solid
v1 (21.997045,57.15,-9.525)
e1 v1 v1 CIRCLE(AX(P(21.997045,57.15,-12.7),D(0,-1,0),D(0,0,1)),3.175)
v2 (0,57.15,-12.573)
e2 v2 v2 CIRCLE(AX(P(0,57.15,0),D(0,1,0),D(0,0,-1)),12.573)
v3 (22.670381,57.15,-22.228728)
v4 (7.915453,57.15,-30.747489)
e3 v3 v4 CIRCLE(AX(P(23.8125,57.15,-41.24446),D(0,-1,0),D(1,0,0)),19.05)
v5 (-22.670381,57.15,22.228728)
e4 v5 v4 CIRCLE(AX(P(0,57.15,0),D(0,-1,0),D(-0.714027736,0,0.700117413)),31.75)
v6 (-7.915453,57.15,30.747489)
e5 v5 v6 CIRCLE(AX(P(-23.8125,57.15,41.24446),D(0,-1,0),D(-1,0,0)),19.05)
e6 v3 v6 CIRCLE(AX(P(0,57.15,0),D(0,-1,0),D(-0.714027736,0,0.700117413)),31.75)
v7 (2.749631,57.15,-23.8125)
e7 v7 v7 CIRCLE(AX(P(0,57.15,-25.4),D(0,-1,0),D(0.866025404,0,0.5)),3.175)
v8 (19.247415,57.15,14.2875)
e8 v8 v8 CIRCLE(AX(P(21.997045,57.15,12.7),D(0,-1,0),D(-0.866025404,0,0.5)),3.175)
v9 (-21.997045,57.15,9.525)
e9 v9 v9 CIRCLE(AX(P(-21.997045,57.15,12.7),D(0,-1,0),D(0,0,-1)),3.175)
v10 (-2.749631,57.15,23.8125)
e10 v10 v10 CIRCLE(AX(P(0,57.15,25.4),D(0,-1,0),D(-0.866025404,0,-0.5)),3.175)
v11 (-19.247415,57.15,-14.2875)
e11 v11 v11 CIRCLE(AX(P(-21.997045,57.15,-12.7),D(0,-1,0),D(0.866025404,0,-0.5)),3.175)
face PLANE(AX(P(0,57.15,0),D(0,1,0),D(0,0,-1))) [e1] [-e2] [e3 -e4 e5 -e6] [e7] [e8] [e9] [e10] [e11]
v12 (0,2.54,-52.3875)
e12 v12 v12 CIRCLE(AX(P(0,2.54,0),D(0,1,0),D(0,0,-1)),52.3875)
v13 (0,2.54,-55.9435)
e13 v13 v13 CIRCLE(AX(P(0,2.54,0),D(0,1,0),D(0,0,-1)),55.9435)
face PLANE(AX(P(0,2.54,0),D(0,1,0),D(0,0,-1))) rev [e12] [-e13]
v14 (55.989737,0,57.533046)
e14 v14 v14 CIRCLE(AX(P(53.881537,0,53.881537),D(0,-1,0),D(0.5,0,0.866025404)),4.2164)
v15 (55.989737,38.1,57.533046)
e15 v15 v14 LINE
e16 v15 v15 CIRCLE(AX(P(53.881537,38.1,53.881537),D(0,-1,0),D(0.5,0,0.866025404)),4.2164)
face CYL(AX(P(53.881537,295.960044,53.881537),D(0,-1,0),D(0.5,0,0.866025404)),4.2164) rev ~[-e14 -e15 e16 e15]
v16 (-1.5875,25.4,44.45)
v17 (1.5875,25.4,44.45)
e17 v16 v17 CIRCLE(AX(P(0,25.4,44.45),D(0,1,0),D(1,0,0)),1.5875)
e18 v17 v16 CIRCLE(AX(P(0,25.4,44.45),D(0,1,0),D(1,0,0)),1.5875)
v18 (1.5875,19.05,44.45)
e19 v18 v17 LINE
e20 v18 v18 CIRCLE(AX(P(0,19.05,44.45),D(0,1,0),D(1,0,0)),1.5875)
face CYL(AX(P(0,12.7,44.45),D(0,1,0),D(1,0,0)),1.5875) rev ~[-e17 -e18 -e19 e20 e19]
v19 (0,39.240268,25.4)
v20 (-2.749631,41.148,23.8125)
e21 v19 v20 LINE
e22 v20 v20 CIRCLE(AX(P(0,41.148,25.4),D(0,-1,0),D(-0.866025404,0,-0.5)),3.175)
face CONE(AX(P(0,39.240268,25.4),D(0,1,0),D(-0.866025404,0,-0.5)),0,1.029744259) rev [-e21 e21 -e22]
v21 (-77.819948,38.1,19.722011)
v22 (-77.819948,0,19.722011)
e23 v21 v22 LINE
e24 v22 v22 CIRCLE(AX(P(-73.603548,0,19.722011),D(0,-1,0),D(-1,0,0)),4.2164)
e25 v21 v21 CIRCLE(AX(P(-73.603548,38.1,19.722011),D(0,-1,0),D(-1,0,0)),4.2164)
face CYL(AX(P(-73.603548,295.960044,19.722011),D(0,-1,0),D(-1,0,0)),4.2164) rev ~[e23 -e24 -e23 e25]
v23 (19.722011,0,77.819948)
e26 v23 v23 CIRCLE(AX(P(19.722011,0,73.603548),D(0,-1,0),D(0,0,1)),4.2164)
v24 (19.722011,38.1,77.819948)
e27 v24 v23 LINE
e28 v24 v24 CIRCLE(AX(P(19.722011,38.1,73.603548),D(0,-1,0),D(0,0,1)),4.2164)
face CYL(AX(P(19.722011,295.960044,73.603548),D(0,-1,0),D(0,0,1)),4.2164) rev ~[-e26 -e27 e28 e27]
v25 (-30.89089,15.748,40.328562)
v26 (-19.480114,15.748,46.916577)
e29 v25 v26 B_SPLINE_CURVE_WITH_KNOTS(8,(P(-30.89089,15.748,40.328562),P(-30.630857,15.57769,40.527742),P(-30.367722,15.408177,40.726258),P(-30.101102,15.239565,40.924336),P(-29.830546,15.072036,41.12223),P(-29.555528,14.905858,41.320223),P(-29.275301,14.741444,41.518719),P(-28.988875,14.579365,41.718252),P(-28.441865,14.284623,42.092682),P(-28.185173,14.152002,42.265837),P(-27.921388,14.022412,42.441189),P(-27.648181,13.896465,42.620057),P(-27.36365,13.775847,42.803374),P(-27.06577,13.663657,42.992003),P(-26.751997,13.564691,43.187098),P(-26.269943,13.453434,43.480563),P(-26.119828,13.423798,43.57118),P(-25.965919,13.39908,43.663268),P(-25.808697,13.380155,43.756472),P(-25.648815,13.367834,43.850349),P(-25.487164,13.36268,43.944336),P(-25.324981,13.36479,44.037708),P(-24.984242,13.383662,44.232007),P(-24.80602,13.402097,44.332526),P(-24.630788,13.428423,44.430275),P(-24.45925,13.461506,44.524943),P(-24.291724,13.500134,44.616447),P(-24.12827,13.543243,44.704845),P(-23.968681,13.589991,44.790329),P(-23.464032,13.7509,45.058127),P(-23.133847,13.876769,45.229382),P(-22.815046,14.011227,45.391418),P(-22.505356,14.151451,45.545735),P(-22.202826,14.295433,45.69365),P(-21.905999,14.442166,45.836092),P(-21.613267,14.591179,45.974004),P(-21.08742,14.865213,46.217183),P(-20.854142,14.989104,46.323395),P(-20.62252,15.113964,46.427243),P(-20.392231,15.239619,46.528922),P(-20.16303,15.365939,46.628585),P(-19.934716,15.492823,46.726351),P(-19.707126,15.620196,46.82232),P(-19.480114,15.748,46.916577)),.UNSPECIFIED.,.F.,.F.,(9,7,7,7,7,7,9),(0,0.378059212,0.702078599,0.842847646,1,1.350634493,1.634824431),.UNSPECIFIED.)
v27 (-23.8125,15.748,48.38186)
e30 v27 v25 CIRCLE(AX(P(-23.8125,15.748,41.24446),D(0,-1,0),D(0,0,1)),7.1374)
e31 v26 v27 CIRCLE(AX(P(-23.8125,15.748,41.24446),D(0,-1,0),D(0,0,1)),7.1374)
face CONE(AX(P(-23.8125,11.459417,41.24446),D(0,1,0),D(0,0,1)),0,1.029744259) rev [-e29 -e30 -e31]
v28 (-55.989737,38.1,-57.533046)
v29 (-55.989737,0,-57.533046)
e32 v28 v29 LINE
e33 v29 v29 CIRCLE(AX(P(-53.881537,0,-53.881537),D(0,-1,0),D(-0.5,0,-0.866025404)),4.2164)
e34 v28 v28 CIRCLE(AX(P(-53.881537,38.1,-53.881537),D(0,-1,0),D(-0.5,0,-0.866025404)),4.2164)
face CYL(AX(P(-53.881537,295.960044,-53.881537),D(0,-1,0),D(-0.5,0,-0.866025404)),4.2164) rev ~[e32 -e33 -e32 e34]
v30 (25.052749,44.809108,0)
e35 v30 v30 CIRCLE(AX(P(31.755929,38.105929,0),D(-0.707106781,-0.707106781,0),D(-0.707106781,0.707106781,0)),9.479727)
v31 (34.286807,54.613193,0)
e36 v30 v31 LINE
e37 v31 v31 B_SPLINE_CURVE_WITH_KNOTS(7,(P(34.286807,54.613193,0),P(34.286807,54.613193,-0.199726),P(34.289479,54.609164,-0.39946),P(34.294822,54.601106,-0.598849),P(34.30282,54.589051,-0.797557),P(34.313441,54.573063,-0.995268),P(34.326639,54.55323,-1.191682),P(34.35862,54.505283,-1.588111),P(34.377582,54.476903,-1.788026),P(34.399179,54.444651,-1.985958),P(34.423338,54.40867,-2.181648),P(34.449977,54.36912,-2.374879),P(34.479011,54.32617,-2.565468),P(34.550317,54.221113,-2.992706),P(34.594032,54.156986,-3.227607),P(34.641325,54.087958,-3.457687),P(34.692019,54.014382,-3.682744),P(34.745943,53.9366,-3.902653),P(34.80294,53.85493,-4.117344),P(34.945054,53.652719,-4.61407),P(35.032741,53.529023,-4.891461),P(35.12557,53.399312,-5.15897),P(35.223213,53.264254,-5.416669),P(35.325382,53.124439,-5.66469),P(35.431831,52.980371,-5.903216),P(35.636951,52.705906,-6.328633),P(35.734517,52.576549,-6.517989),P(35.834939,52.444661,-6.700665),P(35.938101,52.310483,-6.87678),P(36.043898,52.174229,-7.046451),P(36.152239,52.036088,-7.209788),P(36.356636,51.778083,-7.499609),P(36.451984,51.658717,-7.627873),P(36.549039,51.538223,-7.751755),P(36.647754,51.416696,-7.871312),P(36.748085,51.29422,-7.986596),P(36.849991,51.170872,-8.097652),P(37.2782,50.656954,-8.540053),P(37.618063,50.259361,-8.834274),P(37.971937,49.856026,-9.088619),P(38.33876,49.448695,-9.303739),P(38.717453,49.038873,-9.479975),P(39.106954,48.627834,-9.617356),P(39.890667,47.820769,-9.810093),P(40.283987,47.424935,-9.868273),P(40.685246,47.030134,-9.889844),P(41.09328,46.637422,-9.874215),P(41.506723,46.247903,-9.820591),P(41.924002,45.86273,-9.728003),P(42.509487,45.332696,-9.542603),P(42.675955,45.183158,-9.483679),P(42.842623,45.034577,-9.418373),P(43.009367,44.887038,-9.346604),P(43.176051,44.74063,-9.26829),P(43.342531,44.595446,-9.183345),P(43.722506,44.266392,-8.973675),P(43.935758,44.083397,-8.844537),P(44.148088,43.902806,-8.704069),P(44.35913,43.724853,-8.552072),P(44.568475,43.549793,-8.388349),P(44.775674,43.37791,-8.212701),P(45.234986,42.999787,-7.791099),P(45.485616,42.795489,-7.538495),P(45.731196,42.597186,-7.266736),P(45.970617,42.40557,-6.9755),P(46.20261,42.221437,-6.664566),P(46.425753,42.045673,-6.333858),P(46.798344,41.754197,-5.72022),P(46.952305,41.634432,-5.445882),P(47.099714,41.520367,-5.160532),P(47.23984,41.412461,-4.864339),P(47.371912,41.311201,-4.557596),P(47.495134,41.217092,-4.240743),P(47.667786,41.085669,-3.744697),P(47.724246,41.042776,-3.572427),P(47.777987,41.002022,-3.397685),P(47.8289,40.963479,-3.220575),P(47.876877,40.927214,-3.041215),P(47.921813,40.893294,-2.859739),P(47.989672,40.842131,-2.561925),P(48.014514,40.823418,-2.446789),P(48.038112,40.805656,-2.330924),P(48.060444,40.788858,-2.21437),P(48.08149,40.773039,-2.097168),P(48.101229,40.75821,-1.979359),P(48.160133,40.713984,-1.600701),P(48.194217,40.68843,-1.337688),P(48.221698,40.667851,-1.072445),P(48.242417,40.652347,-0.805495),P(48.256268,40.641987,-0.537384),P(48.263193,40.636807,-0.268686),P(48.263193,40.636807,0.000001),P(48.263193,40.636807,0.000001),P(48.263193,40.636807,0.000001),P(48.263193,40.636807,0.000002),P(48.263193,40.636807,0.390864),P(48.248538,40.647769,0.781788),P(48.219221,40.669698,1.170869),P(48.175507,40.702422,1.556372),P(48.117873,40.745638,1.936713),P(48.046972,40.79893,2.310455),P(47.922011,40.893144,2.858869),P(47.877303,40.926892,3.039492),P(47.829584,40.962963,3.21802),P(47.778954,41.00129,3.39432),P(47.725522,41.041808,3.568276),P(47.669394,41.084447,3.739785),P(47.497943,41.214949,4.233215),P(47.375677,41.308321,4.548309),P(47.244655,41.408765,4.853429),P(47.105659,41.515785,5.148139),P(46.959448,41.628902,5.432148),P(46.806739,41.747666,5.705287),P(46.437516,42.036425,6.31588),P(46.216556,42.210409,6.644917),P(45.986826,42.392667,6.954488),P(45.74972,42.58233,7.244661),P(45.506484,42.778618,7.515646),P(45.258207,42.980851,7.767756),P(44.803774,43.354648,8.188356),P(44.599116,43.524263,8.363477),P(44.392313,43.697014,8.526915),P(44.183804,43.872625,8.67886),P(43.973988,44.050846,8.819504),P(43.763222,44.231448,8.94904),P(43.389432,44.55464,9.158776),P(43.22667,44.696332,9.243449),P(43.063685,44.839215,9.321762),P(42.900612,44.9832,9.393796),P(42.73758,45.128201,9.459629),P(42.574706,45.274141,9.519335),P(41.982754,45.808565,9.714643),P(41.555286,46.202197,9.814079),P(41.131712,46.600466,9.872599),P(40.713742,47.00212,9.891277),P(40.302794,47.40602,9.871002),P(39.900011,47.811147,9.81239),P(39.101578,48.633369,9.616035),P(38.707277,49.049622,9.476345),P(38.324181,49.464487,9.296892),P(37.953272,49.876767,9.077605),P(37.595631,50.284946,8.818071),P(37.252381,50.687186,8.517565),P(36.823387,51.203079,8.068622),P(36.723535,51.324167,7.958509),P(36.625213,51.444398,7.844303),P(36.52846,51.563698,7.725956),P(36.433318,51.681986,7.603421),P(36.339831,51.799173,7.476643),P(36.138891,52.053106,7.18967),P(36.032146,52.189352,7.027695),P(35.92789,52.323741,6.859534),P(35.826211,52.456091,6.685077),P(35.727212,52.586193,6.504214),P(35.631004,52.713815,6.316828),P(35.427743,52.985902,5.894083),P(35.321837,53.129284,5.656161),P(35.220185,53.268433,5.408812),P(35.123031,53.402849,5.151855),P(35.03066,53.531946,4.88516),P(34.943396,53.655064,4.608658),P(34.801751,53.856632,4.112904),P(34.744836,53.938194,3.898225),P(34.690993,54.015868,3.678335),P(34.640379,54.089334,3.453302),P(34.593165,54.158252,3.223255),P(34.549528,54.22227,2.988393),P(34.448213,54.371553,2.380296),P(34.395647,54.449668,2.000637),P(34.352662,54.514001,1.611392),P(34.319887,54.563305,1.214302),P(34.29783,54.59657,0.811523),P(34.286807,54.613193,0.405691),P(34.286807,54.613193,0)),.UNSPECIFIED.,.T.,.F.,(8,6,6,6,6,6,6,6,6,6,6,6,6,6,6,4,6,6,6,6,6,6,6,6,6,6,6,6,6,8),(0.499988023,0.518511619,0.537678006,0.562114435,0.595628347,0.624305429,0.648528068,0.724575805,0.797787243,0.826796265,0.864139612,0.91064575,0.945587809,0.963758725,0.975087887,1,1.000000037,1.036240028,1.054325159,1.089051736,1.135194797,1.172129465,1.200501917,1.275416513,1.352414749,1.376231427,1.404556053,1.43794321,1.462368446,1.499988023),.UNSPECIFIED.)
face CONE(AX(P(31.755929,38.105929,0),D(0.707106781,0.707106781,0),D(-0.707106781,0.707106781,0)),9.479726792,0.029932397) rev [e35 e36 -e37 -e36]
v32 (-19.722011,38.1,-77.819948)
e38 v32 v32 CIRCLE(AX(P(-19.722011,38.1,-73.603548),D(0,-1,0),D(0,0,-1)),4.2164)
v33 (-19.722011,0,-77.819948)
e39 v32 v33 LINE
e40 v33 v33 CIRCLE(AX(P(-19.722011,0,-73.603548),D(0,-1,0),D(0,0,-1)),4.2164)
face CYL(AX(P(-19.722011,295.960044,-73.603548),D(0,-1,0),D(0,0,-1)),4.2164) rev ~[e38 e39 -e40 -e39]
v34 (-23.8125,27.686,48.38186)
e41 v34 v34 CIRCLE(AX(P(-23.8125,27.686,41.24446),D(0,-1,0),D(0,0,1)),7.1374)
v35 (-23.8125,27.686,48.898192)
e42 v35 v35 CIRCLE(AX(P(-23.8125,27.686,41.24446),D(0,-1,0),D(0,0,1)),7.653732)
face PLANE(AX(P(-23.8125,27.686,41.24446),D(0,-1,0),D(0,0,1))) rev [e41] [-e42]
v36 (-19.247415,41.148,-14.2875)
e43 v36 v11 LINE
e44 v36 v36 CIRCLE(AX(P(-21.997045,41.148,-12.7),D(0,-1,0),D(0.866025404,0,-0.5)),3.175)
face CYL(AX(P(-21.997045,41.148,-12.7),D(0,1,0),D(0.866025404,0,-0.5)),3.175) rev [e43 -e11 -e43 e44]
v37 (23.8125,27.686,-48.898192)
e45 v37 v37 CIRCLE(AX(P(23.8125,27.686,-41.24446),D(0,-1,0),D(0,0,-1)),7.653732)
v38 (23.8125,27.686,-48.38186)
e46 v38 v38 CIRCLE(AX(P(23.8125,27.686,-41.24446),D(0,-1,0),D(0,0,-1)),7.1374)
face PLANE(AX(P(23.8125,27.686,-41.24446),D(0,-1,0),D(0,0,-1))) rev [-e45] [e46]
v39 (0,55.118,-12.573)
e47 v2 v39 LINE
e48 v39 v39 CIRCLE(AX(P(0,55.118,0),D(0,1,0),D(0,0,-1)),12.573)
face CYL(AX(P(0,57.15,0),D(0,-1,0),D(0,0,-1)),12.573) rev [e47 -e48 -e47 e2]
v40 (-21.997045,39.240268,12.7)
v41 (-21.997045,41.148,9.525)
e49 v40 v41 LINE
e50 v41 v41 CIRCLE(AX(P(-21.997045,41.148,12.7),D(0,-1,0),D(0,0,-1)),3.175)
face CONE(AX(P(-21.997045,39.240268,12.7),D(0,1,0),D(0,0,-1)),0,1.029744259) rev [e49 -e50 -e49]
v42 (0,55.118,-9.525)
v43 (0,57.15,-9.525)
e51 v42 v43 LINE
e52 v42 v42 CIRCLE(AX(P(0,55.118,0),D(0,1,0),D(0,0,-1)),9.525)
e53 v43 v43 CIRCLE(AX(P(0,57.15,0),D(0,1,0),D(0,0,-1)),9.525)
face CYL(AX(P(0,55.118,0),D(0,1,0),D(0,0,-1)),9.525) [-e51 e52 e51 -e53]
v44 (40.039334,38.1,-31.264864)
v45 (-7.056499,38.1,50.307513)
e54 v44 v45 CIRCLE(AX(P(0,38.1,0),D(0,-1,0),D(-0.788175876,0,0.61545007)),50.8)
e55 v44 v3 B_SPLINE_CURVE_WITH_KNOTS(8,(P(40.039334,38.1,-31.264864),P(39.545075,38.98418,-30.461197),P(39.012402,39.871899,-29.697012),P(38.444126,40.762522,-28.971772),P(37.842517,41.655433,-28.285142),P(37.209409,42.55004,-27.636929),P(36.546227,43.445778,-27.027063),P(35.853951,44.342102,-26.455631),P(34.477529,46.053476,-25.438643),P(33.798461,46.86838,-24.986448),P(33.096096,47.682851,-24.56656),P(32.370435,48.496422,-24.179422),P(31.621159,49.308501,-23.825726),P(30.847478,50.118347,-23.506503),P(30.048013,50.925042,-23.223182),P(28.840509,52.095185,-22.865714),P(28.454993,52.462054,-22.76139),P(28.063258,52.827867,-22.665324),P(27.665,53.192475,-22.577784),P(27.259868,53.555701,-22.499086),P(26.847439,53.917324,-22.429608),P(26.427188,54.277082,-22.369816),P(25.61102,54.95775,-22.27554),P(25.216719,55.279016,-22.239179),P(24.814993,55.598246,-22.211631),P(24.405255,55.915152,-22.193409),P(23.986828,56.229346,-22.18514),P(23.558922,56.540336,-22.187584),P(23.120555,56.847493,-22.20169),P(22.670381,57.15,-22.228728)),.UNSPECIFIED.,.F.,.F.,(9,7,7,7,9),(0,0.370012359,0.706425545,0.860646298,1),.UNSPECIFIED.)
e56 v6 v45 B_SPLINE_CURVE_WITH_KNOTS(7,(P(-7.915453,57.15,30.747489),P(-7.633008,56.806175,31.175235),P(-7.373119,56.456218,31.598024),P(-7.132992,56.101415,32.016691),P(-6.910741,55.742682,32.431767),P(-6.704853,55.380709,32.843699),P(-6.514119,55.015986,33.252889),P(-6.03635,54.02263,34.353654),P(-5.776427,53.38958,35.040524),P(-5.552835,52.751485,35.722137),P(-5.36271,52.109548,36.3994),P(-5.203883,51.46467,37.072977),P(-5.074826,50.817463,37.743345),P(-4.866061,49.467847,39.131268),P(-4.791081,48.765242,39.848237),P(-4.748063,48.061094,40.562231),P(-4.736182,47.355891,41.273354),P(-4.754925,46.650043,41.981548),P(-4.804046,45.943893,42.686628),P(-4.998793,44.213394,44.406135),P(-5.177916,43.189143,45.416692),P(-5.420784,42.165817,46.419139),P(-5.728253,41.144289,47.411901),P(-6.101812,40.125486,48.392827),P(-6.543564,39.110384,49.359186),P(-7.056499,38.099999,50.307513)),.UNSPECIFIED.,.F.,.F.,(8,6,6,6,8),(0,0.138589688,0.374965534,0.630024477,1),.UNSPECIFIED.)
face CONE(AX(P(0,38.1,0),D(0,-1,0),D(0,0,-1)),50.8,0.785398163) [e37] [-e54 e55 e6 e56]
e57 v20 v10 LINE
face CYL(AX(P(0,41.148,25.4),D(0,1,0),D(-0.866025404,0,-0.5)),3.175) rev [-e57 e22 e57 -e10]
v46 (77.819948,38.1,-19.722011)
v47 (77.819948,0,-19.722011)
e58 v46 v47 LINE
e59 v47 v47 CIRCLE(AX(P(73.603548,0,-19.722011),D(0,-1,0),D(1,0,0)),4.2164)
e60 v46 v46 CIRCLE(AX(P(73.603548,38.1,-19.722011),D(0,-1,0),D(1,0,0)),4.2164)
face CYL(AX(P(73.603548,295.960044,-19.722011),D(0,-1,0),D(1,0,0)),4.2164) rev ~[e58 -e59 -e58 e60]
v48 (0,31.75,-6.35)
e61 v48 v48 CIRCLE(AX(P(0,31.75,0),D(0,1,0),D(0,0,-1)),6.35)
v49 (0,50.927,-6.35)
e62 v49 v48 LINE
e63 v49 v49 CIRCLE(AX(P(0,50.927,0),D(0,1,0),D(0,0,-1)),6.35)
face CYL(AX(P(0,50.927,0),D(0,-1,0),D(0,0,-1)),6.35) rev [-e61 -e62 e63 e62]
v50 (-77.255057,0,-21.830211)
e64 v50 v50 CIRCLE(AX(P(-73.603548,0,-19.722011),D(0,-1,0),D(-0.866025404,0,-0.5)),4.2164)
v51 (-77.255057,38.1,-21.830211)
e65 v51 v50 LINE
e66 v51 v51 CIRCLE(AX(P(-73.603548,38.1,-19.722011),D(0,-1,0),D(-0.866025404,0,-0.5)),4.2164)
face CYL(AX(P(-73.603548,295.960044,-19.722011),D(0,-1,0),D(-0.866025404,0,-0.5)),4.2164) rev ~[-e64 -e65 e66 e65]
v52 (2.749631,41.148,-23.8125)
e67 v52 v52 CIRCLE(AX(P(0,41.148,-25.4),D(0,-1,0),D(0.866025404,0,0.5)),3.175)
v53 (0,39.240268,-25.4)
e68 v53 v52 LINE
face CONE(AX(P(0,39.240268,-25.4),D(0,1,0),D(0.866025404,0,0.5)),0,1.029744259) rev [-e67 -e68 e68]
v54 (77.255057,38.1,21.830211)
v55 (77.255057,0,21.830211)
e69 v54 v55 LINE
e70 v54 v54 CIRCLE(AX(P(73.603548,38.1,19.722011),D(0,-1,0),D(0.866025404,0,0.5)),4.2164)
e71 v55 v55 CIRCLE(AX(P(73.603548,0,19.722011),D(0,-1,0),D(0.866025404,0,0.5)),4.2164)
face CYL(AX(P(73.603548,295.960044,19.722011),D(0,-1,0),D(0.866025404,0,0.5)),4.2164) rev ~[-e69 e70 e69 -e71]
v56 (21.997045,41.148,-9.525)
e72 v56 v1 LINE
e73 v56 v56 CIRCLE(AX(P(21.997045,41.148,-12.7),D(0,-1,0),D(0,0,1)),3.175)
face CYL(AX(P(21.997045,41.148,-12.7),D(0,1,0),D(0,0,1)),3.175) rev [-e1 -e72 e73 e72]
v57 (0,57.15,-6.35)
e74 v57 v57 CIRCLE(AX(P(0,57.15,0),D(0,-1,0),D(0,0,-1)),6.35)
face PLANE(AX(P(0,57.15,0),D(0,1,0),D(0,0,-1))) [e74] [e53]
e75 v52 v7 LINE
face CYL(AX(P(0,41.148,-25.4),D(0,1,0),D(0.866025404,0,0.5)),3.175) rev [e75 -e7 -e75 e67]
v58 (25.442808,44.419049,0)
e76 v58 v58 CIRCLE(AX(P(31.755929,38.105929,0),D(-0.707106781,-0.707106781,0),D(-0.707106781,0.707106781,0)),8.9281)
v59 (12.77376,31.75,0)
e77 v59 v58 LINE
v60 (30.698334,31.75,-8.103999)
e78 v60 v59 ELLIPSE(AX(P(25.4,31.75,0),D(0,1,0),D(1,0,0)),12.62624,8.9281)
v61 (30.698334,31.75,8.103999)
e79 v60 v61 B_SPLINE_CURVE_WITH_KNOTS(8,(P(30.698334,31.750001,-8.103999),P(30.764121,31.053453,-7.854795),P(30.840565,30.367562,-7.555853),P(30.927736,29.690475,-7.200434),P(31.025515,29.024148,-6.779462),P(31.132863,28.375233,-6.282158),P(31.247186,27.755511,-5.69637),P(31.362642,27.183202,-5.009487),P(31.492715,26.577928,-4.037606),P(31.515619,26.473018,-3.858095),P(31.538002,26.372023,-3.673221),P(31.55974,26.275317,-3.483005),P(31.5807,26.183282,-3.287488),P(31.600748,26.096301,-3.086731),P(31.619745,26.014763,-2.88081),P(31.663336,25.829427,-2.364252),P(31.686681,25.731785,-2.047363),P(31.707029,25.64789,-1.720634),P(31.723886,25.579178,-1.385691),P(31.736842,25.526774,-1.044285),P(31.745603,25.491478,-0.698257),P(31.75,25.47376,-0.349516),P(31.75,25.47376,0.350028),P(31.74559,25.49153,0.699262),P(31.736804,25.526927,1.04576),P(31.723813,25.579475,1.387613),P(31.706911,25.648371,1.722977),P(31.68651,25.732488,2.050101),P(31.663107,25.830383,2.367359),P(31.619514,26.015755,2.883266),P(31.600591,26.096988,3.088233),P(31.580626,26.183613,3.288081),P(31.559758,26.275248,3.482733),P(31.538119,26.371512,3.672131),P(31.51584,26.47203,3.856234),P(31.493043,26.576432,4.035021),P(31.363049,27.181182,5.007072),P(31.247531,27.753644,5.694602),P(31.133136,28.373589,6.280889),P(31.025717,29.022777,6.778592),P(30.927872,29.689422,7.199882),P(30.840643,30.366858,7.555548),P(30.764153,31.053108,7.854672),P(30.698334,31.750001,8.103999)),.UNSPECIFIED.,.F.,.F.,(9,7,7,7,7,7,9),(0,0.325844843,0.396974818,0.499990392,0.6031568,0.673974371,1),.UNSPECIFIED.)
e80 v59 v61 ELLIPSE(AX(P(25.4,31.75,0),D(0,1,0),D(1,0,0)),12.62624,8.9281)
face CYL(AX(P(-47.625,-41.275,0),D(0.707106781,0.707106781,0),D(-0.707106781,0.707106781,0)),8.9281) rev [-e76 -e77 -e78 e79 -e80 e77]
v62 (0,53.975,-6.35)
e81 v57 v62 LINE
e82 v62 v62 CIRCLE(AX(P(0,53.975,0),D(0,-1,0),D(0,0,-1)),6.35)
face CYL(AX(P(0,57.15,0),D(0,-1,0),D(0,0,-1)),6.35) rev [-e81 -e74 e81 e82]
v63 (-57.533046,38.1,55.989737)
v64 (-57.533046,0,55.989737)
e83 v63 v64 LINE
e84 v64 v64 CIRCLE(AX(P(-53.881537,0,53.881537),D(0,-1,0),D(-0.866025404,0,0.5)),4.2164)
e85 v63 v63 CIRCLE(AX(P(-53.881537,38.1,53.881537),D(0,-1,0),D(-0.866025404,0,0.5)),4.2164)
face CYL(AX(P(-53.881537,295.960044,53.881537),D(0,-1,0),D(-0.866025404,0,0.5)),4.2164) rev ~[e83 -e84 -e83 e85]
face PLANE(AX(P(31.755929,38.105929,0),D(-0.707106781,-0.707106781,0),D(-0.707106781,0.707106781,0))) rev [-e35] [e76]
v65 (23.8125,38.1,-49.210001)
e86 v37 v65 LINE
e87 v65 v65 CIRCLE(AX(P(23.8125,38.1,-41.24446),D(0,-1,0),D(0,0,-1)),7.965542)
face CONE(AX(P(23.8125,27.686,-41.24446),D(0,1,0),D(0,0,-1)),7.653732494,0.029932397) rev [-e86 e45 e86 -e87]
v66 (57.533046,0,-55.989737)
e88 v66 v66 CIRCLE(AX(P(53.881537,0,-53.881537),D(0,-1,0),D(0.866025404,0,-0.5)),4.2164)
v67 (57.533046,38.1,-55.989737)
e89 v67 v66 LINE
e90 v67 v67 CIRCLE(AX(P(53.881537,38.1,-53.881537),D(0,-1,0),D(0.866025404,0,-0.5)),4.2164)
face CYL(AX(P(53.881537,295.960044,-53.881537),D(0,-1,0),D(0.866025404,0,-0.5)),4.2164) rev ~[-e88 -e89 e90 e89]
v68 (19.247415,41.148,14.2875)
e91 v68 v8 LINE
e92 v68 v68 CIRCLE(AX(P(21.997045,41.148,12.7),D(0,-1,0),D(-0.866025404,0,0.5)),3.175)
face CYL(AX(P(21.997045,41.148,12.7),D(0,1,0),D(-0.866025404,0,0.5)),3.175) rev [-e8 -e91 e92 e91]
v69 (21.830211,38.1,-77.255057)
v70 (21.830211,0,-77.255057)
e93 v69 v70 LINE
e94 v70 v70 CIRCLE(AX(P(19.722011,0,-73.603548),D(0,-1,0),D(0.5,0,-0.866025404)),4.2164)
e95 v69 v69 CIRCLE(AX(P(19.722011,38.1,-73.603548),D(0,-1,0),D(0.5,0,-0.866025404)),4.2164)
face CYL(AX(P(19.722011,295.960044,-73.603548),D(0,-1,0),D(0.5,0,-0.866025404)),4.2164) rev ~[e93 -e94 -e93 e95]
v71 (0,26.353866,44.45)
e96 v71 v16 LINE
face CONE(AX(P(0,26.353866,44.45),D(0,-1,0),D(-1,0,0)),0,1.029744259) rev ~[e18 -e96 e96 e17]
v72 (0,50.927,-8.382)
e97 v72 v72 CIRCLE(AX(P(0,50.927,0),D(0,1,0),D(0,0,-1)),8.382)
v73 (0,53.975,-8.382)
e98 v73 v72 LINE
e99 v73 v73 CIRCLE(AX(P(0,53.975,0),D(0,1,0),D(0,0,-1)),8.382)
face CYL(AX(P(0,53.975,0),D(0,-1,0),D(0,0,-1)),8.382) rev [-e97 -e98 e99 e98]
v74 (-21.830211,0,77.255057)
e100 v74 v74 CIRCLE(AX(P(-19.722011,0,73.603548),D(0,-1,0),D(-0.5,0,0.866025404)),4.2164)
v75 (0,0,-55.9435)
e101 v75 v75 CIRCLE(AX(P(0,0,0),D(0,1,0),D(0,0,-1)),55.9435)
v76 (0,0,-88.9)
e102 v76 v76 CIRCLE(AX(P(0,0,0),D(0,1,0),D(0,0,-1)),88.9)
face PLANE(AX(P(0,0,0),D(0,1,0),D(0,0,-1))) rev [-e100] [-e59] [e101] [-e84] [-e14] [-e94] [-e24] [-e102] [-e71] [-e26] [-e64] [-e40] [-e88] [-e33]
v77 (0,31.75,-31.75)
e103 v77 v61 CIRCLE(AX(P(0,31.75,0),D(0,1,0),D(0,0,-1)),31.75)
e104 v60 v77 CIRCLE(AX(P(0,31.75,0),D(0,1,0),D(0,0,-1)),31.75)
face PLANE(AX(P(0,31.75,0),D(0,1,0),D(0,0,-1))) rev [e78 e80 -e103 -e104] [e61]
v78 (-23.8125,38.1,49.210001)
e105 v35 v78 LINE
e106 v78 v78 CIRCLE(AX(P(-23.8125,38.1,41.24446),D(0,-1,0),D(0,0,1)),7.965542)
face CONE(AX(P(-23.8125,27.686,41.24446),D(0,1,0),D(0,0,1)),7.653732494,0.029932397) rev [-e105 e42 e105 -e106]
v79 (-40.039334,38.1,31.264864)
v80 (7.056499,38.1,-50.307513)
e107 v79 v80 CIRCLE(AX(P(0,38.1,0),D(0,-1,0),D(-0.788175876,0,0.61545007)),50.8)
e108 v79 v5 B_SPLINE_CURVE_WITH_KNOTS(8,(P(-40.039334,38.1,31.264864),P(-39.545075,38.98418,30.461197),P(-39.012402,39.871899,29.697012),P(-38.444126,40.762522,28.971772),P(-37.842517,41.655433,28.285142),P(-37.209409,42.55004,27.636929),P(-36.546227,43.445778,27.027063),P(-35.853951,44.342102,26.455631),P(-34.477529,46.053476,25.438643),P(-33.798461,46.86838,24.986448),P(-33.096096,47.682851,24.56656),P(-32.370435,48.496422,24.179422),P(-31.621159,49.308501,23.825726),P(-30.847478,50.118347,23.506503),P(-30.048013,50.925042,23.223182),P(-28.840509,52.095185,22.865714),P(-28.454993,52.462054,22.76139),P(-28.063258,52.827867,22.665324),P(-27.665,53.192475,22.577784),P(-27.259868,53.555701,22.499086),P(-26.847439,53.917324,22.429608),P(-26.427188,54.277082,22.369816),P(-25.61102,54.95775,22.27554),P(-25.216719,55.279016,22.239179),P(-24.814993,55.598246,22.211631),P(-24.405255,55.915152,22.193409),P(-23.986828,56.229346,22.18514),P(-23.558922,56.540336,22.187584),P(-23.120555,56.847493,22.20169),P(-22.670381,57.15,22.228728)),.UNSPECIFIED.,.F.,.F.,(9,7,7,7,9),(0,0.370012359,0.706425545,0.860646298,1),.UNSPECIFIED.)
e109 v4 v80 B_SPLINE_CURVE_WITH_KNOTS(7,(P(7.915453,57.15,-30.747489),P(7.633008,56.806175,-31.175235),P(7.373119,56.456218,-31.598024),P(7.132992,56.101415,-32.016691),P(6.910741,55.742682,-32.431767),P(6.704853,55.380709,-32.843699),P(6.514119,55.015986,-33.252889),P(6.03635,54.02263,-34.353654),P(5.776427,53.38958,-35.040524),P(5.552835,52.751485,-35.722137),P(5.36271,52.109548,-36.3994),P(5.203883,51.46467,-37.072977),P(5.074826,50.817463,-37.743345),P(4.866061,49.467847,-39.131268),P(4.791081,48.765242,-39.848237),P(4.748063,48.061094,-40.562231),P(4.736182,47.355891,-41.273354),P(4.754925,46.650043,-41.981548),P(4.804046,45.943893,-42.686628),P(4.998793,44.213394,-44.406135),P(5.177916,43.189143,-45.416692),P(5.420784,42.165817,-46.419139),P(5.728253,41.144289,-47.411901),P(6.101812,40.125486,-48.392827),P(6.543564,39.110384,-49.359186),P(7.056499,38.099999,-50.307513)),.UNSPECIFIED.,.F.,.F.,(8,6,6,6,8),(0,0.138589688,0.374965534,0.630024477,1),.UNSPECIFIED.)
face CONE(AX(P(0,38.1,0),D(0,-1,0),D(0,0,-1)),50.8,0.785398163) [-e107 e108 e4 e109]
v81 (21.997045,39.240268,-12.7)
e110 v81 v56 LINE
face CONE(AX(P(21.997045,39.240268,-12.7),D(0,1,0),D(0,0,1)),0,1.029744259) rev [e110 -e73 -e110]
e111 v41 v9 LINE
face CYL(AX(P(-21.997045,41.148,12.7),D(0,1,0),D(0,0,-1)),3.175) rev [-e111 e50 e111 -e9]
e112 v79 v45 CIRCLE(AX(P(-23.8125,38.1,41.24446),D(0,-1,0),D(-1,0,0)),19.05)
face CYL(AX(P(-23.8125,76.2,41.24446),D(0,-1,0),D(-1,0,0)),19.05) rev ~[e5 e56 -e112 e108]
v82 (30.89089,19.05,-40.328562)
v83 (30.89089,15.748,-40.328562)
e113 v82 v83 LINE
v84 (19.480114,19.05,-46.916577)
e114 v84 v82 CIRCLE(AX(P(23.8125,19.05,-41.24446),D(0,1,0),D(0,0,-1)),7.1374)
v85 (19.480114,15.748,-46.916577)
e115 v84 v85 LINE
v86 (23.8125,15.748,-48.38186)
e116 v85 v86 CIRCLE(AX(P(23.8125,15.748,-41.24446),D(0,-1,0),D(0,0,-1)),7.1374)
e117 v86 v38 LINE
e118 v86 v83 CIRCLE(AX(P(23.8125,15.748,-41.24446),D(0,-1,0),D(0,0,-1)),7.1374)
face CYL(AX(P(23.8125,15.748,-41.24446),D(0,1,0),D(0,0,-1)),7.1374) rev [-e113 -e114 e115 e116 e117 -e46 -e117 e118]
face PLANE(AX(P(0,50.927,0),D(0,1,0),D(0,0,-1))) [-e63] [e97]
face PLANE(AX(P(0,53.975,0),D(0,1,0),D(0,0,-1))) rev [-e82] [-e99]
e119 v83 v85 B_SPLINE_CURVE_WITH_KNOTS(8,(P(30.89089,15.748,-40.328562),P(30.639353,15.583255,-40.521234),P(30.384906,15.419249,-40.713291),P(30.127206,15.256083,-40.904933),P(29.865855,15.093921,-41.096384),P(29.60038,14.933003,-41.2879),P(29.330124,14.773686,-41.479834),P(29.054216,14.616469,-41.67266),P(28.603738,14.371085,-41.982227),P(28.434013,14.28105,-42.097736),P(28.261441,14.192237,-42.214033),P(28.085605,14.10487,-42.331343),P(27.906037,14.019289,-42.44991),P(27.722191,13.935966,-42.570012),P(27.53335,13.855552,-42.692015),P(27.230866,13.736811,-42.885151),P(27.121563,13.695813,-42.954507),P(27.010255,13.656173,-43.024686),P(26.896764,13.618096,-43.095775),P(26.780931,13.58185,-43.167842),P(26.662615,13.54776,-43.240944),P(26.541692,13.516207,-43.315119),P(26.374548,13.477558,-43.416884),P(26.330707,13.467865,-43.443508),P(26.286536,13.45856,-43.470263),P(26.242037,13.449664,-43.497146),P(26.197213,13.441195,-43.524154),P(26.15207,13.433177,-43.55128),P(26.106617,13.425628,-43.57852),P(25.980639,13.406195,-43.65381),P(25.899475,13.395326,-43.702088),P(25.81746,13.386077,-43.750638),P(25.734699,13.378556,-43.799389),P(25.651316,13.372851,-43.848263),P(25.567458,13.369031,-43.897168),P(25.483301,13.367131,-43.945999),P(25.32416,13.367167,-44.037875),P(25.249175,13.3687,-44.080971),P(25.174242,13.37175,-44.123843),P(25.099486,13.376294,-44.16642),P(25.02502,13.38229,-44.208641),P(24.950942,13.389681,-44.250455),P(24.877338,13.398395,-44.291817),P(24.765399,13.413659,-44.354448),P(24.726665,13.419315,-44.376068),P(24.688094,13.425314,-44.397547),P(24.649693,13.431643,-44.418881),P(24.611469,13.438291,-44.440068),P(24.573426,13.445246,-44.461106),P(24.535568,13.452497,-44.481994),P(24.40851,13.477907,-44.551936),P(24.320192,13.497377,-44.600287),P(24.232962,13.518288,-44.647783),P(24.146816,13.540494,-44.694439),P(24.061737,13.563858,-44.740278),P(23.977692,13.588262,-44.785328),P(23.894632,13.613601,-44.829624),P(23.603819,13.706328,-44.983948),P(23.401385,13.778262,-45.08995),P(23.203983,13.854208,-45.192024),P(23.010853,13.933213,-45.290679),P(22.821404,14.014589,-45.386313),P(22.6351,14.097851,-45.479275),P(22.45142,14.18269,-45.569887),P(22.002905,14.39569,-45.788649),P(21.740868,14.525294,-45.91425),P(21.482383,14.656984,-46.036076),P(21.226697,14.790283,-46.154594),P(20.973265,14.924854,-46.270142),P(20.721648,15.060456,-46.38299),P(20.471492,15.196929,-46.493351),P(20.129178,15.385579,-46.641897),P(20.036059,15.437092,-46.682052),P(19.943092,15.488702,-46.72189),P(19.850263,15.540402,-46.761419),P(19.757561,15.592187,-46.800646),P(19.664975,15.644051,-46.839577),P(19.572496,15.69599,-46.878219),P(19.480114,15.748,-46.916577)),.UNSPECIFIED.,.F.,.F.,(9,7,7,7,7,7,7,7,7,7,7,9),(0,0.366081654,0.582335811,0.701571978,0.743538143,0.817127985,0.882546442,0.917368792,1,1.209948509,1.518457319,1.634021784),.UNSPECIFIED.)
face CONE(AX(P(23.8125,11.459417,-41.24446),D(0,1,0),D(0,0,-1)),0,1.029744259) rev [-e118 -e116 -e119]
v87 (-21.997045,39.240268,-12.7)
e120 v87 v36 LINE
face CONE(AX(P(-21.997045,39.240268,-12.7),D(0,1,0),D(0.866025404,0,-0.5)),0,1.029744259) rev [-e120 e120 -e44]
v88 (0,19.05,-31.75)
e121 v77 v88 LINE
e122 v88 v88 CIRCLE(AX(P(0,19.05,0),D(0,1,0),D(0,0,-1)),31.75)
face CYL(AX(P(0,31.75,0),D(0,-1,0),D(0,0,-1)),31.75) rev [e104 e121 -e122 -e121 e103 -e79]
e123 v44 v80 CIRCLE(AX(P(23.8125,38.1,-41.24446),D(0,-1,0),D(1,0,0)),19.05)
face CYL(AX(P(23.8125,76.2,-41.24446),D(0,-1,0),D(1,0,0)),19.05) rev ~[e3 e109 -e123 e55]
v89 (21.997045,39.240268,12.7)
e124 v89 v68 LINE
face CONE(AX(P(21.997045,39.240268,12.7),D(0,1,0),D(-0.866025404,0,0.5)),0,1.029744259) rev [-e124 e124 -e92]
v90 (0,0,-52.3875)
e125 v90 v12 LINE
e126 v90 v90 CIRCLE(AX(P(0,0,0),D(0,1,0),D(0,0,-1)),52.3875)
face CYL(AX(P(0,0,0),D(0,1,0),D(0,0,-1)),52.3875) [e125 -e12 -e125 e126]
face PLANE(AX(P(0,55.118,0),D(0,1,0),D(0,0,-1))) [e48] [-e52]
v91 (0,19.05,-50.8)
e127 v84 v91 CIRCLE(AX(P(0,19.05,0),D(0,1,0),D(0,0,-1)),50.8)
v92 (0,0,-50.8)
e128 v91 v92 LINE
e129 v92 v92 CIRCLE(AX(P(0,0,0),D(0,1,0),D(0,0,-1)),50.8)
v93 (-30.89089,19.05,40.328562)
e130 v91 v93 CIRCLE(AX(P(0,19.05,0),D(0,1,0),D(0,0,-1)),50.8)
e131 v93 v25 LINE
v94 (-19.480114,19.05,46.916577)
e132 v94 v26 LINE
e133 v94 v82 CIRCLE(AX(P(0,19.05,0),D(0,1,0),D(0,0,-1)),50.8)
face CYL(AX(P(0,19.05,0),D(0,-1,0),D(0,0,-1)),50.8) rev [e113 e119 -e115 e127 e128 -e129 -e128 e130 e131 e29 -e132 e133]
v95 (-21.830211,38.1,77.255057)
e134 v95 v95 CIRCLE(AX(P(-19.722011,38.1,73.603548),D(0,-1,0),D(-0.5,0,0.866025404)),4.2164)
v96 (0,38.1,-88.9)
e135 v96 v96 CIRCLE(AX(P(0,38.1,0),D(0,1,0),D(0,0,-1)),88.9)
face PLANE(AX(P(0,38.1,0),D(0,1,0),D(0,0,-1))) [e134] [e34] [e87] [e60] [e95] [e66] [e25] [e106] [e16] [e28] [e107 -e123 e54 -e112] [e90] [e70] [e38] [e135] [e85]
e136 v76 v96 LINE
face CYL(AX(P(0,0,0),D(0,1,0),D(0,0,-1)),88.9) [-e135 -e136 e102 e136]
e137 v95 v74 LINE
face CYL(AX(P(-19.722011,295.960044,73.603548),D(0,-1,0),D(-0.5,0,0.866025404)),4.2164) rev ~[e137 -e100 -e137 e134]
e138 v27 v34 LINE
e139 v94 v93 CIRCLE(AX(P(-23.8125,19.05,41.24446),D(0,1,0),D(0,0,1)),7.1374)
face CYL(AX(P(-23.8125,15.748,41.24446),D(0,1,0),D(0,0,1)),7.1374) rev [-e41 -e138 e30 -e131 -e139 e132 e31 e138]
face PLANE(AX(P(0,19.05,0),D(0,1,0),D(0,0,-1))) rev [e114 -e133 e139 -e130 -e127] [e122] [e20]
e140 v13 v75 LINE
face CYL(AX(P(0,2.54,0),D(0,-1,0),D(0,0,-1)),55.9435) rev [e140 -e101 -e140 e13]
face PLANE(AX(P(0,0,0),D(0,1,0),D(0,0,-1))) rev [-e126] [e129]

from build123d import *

# Parameters (mm, degrees)
F_5_16_CLEARANCE_HOLE1_D         = 8.4328
CIRPATTERN1_COUNT                = 12
F_1_2_0_5_DIAMETER_HOLE1_D       = 12.7
F_1_1_5_DIAMETER_HOLE1_D         = 38.1
F_1_1_5_DIAMETER_HOLE1_DEPTH     = 19.05
CIRPATTERN2_COUNT                = 6
CIRPATTERN3_COUNT                = 2
F_1_8_0_125_DIAMETER_HOLE1_D     = 3.175
F_1_8_0_125_DIAMETER_HOLE1_DEPTH = 6.35
F_1_8_0_125_DIAMETER_HOLE1_TIP   = 0.953866233


with BuildPart() as part:
    # Sketch1 → Revolve1 (revolve)
    with BuildSketch(Plane.XY, mode=Mode.PRIVATE) as revolve1_sk:
        Polygon((-55.9435, 0), (-88.9, 0), (-88.9, 38.1), (-50.8, 38.1), (-31.75, 57.15), (-12.573, 57.15), (-12.573, 55.118), (-9.525, 55.118), (-9.525, 57.15), (-6.35, 57.15), (-6.35, 53.975), (-8.382, 53.975), (-8.382, 50.927), (-6.35, 50.927), (-6.35, 31.75), (-31.75, 31.75), (-31.75, 19.05), (-50.8, 19.05), (-50.8, 0), (-52.3875, 0), (-52.3875, 2.54), (-55.9435, 2.54), align=None)
    revolve(revolve1_sk.sketch.rotate(Axis((0, 0, 0), (0, 1, 0)), 270), axis=Axis((0, 0, 0), (0, 1, 0)))

    # 5/16 Clearance Hole1 (through all)
    with Locations(Plane(origin=(0, 38.1, 0), x_dir=(1, 0, 0), z_dir=(0, 1, 0))):
        with Locations((-73.603547963, -19.722011237)):
            f_5_16_clearance_hole1 = Hole(F_5_16_CLEARANCE_HOLE1_D / 2)

    # CirPattern1: 5/16 Clearance Hole1 ×12 about axis
    cirpattern1_axis = Axis((0, 0, 0), (0, 1, 0))
    for i in range(1, CIRPATTERN1_COUNT):
        add(f_5_16_clearance_hole1.rotate(cirpattern1_axis, i * 360 / CIRPATTERN1_COUNT), mode=Mode.SUBTRACT)

    # 1/2 (0.5) Diameter Hole1 (through all)
    with Locations(Plane(origin=(0, 57.15, 0), x_dir=(1, 0, 0), z_dir=(0, 1, 0))):
        with Locations((0, 0)):
            Hole(F_1_2_0_5_DIAMETER_HOLE1_D / 2)

    # Sketch11 → 1/2 NPT Tapped Hole1 (revolve, cut)
    with BuildSketch(Plane(origin=(41.275, 47.625, 0), x_dir=(-0.707106781186546, 0.707106781186549, 0), z_dir=(0, 0, 1))):
        Polygon((0, 0), (0, 125.723585695), (8.9281, 125.723585695), (8.9281, 13.462), (9.479726792, 13.462), (9.8827971, 0), align=None)
    revolve(axis=Axis((45.765128061, 52.115128061, 0), (-0.707106781186549, -0.707106781186546, 0)), mode=Mode.SUBTRACT)

    # 1 (1.5) Diameter Hole1
    with Locations(Plane(origin=(0, 57.15, 0), x_dir=(1, 0, 0), z_dir=(0, 1, 0))):
        with Locations((-23.8125, -41.244459855)):
            f_1_1_5_diameter_hole1 = Hole(F_1_1_5_DIAMETER_HOLE1_D / 2, depth=F_1_1_5_DIAMETER_HOLE1_DEPTH)

    # Sketch19 → 3/8 NPT Tapped Hole1 (revolve, cut)
    with BuildSketch(Plane(origin=(-23.8125, 38.1, 41.244459855), x_dir=(0, 0, 1), z_dir=(1, 0, 0))):
        Polygon((0, 0), (0, 26.640582582), (7.1374, 22.352), (7.1374, 10.414), (7.653732494, 10.414), (7.9655416, 0), align=None)
    f_3_8_npt_tapped_hole1 = revolve(axis=Axis((-23.8125, 44.45, 41.244459855), (0, -1, 0)), mode=Mode.SUBTRACT)

    # Sketch21 → 1/4 (0.25) Diameter Hole1 (revolve, cut)
    with BuildSketch(Plane(origin=(21.997045256, 57.15, -12.7), x_dir=(0, 0, 1), z_dir=(1, 0, 0))):
        Polygon((0, 0), (0, 17.909732465), (3.175, 16.002), (3.175, 0), align=None)
    f_1_4_0_25_diameter_hole1 = revolve(axis=Axis((21.997045256, 63.5, -12.7), (0, -1, 0)), mode=Mode.SUBTRACT)

    # CirPattern2: 1/4 (0.25) Diameter Hole1 ×6 about axis
    cirpattern2_axis = Axis((0, 0, 0), (0, 1, 0))
    for i in range(1, CIRPATTERN2_COUNT):
        add(f_1_4_0_25_diameter_hole1.rotate(cirpattern2_axis, i * 360 / CIRPATTERN2_COUNT), mode=Mode.SUBTRACT)

    # CirPattern3: 1 (1.5) Diameter Hole1, 3/8 NPT Tapped Hole1 ×2 about axis
    cirpattern3_axis = Axis((0, 0, 0), (0, 1, 0))
    add([f_1_1_5_diameter_hole1.rotate(cirpattern3_axis, i * 360 / CIRPATTERN3_COUNT) for i in range(1, CIRPATTERN3_COUNT)], mode=Mode.SUBTRACT)
    add([f_3_8_npt_tapped_hole1.rotate(cirpattern3_axis, i * 360 / CIRPATTERN3_COUNT) for i in range(1, CIRPATTERN3_COUNT)], mode=Mode.SUBTRACT)

    # 1/8 (0.125) Diameter Hole1
    with Locations(Plane(origin=(0, 19.05, 0), x_dir=(-1, 0, 0), z_dir=(0, -1, 0))):
        with Locations((0, -44.45)):
            Hole(F_1_8_0_125_DIAMETER_HOLE1_D / 2, depth=F_1_8_0_125_DIAMETER_HOLE1_DEPTH)
            with Locations((0, 0, -(F_1_8_0_125_DIAMETER_HOLE1_DEPTH + F_1_8_0_125_DIAMETER_HOLE1_TIP / 2))):  # 118° drill point
                Cone(0, F_1_8_0_125_DIAMETER_HOLE1_D / 2, F_1_8_0_125_DIAMETER_HOLE1_TIP, mode=Mode.SUBTRACT)


solid = part.part
